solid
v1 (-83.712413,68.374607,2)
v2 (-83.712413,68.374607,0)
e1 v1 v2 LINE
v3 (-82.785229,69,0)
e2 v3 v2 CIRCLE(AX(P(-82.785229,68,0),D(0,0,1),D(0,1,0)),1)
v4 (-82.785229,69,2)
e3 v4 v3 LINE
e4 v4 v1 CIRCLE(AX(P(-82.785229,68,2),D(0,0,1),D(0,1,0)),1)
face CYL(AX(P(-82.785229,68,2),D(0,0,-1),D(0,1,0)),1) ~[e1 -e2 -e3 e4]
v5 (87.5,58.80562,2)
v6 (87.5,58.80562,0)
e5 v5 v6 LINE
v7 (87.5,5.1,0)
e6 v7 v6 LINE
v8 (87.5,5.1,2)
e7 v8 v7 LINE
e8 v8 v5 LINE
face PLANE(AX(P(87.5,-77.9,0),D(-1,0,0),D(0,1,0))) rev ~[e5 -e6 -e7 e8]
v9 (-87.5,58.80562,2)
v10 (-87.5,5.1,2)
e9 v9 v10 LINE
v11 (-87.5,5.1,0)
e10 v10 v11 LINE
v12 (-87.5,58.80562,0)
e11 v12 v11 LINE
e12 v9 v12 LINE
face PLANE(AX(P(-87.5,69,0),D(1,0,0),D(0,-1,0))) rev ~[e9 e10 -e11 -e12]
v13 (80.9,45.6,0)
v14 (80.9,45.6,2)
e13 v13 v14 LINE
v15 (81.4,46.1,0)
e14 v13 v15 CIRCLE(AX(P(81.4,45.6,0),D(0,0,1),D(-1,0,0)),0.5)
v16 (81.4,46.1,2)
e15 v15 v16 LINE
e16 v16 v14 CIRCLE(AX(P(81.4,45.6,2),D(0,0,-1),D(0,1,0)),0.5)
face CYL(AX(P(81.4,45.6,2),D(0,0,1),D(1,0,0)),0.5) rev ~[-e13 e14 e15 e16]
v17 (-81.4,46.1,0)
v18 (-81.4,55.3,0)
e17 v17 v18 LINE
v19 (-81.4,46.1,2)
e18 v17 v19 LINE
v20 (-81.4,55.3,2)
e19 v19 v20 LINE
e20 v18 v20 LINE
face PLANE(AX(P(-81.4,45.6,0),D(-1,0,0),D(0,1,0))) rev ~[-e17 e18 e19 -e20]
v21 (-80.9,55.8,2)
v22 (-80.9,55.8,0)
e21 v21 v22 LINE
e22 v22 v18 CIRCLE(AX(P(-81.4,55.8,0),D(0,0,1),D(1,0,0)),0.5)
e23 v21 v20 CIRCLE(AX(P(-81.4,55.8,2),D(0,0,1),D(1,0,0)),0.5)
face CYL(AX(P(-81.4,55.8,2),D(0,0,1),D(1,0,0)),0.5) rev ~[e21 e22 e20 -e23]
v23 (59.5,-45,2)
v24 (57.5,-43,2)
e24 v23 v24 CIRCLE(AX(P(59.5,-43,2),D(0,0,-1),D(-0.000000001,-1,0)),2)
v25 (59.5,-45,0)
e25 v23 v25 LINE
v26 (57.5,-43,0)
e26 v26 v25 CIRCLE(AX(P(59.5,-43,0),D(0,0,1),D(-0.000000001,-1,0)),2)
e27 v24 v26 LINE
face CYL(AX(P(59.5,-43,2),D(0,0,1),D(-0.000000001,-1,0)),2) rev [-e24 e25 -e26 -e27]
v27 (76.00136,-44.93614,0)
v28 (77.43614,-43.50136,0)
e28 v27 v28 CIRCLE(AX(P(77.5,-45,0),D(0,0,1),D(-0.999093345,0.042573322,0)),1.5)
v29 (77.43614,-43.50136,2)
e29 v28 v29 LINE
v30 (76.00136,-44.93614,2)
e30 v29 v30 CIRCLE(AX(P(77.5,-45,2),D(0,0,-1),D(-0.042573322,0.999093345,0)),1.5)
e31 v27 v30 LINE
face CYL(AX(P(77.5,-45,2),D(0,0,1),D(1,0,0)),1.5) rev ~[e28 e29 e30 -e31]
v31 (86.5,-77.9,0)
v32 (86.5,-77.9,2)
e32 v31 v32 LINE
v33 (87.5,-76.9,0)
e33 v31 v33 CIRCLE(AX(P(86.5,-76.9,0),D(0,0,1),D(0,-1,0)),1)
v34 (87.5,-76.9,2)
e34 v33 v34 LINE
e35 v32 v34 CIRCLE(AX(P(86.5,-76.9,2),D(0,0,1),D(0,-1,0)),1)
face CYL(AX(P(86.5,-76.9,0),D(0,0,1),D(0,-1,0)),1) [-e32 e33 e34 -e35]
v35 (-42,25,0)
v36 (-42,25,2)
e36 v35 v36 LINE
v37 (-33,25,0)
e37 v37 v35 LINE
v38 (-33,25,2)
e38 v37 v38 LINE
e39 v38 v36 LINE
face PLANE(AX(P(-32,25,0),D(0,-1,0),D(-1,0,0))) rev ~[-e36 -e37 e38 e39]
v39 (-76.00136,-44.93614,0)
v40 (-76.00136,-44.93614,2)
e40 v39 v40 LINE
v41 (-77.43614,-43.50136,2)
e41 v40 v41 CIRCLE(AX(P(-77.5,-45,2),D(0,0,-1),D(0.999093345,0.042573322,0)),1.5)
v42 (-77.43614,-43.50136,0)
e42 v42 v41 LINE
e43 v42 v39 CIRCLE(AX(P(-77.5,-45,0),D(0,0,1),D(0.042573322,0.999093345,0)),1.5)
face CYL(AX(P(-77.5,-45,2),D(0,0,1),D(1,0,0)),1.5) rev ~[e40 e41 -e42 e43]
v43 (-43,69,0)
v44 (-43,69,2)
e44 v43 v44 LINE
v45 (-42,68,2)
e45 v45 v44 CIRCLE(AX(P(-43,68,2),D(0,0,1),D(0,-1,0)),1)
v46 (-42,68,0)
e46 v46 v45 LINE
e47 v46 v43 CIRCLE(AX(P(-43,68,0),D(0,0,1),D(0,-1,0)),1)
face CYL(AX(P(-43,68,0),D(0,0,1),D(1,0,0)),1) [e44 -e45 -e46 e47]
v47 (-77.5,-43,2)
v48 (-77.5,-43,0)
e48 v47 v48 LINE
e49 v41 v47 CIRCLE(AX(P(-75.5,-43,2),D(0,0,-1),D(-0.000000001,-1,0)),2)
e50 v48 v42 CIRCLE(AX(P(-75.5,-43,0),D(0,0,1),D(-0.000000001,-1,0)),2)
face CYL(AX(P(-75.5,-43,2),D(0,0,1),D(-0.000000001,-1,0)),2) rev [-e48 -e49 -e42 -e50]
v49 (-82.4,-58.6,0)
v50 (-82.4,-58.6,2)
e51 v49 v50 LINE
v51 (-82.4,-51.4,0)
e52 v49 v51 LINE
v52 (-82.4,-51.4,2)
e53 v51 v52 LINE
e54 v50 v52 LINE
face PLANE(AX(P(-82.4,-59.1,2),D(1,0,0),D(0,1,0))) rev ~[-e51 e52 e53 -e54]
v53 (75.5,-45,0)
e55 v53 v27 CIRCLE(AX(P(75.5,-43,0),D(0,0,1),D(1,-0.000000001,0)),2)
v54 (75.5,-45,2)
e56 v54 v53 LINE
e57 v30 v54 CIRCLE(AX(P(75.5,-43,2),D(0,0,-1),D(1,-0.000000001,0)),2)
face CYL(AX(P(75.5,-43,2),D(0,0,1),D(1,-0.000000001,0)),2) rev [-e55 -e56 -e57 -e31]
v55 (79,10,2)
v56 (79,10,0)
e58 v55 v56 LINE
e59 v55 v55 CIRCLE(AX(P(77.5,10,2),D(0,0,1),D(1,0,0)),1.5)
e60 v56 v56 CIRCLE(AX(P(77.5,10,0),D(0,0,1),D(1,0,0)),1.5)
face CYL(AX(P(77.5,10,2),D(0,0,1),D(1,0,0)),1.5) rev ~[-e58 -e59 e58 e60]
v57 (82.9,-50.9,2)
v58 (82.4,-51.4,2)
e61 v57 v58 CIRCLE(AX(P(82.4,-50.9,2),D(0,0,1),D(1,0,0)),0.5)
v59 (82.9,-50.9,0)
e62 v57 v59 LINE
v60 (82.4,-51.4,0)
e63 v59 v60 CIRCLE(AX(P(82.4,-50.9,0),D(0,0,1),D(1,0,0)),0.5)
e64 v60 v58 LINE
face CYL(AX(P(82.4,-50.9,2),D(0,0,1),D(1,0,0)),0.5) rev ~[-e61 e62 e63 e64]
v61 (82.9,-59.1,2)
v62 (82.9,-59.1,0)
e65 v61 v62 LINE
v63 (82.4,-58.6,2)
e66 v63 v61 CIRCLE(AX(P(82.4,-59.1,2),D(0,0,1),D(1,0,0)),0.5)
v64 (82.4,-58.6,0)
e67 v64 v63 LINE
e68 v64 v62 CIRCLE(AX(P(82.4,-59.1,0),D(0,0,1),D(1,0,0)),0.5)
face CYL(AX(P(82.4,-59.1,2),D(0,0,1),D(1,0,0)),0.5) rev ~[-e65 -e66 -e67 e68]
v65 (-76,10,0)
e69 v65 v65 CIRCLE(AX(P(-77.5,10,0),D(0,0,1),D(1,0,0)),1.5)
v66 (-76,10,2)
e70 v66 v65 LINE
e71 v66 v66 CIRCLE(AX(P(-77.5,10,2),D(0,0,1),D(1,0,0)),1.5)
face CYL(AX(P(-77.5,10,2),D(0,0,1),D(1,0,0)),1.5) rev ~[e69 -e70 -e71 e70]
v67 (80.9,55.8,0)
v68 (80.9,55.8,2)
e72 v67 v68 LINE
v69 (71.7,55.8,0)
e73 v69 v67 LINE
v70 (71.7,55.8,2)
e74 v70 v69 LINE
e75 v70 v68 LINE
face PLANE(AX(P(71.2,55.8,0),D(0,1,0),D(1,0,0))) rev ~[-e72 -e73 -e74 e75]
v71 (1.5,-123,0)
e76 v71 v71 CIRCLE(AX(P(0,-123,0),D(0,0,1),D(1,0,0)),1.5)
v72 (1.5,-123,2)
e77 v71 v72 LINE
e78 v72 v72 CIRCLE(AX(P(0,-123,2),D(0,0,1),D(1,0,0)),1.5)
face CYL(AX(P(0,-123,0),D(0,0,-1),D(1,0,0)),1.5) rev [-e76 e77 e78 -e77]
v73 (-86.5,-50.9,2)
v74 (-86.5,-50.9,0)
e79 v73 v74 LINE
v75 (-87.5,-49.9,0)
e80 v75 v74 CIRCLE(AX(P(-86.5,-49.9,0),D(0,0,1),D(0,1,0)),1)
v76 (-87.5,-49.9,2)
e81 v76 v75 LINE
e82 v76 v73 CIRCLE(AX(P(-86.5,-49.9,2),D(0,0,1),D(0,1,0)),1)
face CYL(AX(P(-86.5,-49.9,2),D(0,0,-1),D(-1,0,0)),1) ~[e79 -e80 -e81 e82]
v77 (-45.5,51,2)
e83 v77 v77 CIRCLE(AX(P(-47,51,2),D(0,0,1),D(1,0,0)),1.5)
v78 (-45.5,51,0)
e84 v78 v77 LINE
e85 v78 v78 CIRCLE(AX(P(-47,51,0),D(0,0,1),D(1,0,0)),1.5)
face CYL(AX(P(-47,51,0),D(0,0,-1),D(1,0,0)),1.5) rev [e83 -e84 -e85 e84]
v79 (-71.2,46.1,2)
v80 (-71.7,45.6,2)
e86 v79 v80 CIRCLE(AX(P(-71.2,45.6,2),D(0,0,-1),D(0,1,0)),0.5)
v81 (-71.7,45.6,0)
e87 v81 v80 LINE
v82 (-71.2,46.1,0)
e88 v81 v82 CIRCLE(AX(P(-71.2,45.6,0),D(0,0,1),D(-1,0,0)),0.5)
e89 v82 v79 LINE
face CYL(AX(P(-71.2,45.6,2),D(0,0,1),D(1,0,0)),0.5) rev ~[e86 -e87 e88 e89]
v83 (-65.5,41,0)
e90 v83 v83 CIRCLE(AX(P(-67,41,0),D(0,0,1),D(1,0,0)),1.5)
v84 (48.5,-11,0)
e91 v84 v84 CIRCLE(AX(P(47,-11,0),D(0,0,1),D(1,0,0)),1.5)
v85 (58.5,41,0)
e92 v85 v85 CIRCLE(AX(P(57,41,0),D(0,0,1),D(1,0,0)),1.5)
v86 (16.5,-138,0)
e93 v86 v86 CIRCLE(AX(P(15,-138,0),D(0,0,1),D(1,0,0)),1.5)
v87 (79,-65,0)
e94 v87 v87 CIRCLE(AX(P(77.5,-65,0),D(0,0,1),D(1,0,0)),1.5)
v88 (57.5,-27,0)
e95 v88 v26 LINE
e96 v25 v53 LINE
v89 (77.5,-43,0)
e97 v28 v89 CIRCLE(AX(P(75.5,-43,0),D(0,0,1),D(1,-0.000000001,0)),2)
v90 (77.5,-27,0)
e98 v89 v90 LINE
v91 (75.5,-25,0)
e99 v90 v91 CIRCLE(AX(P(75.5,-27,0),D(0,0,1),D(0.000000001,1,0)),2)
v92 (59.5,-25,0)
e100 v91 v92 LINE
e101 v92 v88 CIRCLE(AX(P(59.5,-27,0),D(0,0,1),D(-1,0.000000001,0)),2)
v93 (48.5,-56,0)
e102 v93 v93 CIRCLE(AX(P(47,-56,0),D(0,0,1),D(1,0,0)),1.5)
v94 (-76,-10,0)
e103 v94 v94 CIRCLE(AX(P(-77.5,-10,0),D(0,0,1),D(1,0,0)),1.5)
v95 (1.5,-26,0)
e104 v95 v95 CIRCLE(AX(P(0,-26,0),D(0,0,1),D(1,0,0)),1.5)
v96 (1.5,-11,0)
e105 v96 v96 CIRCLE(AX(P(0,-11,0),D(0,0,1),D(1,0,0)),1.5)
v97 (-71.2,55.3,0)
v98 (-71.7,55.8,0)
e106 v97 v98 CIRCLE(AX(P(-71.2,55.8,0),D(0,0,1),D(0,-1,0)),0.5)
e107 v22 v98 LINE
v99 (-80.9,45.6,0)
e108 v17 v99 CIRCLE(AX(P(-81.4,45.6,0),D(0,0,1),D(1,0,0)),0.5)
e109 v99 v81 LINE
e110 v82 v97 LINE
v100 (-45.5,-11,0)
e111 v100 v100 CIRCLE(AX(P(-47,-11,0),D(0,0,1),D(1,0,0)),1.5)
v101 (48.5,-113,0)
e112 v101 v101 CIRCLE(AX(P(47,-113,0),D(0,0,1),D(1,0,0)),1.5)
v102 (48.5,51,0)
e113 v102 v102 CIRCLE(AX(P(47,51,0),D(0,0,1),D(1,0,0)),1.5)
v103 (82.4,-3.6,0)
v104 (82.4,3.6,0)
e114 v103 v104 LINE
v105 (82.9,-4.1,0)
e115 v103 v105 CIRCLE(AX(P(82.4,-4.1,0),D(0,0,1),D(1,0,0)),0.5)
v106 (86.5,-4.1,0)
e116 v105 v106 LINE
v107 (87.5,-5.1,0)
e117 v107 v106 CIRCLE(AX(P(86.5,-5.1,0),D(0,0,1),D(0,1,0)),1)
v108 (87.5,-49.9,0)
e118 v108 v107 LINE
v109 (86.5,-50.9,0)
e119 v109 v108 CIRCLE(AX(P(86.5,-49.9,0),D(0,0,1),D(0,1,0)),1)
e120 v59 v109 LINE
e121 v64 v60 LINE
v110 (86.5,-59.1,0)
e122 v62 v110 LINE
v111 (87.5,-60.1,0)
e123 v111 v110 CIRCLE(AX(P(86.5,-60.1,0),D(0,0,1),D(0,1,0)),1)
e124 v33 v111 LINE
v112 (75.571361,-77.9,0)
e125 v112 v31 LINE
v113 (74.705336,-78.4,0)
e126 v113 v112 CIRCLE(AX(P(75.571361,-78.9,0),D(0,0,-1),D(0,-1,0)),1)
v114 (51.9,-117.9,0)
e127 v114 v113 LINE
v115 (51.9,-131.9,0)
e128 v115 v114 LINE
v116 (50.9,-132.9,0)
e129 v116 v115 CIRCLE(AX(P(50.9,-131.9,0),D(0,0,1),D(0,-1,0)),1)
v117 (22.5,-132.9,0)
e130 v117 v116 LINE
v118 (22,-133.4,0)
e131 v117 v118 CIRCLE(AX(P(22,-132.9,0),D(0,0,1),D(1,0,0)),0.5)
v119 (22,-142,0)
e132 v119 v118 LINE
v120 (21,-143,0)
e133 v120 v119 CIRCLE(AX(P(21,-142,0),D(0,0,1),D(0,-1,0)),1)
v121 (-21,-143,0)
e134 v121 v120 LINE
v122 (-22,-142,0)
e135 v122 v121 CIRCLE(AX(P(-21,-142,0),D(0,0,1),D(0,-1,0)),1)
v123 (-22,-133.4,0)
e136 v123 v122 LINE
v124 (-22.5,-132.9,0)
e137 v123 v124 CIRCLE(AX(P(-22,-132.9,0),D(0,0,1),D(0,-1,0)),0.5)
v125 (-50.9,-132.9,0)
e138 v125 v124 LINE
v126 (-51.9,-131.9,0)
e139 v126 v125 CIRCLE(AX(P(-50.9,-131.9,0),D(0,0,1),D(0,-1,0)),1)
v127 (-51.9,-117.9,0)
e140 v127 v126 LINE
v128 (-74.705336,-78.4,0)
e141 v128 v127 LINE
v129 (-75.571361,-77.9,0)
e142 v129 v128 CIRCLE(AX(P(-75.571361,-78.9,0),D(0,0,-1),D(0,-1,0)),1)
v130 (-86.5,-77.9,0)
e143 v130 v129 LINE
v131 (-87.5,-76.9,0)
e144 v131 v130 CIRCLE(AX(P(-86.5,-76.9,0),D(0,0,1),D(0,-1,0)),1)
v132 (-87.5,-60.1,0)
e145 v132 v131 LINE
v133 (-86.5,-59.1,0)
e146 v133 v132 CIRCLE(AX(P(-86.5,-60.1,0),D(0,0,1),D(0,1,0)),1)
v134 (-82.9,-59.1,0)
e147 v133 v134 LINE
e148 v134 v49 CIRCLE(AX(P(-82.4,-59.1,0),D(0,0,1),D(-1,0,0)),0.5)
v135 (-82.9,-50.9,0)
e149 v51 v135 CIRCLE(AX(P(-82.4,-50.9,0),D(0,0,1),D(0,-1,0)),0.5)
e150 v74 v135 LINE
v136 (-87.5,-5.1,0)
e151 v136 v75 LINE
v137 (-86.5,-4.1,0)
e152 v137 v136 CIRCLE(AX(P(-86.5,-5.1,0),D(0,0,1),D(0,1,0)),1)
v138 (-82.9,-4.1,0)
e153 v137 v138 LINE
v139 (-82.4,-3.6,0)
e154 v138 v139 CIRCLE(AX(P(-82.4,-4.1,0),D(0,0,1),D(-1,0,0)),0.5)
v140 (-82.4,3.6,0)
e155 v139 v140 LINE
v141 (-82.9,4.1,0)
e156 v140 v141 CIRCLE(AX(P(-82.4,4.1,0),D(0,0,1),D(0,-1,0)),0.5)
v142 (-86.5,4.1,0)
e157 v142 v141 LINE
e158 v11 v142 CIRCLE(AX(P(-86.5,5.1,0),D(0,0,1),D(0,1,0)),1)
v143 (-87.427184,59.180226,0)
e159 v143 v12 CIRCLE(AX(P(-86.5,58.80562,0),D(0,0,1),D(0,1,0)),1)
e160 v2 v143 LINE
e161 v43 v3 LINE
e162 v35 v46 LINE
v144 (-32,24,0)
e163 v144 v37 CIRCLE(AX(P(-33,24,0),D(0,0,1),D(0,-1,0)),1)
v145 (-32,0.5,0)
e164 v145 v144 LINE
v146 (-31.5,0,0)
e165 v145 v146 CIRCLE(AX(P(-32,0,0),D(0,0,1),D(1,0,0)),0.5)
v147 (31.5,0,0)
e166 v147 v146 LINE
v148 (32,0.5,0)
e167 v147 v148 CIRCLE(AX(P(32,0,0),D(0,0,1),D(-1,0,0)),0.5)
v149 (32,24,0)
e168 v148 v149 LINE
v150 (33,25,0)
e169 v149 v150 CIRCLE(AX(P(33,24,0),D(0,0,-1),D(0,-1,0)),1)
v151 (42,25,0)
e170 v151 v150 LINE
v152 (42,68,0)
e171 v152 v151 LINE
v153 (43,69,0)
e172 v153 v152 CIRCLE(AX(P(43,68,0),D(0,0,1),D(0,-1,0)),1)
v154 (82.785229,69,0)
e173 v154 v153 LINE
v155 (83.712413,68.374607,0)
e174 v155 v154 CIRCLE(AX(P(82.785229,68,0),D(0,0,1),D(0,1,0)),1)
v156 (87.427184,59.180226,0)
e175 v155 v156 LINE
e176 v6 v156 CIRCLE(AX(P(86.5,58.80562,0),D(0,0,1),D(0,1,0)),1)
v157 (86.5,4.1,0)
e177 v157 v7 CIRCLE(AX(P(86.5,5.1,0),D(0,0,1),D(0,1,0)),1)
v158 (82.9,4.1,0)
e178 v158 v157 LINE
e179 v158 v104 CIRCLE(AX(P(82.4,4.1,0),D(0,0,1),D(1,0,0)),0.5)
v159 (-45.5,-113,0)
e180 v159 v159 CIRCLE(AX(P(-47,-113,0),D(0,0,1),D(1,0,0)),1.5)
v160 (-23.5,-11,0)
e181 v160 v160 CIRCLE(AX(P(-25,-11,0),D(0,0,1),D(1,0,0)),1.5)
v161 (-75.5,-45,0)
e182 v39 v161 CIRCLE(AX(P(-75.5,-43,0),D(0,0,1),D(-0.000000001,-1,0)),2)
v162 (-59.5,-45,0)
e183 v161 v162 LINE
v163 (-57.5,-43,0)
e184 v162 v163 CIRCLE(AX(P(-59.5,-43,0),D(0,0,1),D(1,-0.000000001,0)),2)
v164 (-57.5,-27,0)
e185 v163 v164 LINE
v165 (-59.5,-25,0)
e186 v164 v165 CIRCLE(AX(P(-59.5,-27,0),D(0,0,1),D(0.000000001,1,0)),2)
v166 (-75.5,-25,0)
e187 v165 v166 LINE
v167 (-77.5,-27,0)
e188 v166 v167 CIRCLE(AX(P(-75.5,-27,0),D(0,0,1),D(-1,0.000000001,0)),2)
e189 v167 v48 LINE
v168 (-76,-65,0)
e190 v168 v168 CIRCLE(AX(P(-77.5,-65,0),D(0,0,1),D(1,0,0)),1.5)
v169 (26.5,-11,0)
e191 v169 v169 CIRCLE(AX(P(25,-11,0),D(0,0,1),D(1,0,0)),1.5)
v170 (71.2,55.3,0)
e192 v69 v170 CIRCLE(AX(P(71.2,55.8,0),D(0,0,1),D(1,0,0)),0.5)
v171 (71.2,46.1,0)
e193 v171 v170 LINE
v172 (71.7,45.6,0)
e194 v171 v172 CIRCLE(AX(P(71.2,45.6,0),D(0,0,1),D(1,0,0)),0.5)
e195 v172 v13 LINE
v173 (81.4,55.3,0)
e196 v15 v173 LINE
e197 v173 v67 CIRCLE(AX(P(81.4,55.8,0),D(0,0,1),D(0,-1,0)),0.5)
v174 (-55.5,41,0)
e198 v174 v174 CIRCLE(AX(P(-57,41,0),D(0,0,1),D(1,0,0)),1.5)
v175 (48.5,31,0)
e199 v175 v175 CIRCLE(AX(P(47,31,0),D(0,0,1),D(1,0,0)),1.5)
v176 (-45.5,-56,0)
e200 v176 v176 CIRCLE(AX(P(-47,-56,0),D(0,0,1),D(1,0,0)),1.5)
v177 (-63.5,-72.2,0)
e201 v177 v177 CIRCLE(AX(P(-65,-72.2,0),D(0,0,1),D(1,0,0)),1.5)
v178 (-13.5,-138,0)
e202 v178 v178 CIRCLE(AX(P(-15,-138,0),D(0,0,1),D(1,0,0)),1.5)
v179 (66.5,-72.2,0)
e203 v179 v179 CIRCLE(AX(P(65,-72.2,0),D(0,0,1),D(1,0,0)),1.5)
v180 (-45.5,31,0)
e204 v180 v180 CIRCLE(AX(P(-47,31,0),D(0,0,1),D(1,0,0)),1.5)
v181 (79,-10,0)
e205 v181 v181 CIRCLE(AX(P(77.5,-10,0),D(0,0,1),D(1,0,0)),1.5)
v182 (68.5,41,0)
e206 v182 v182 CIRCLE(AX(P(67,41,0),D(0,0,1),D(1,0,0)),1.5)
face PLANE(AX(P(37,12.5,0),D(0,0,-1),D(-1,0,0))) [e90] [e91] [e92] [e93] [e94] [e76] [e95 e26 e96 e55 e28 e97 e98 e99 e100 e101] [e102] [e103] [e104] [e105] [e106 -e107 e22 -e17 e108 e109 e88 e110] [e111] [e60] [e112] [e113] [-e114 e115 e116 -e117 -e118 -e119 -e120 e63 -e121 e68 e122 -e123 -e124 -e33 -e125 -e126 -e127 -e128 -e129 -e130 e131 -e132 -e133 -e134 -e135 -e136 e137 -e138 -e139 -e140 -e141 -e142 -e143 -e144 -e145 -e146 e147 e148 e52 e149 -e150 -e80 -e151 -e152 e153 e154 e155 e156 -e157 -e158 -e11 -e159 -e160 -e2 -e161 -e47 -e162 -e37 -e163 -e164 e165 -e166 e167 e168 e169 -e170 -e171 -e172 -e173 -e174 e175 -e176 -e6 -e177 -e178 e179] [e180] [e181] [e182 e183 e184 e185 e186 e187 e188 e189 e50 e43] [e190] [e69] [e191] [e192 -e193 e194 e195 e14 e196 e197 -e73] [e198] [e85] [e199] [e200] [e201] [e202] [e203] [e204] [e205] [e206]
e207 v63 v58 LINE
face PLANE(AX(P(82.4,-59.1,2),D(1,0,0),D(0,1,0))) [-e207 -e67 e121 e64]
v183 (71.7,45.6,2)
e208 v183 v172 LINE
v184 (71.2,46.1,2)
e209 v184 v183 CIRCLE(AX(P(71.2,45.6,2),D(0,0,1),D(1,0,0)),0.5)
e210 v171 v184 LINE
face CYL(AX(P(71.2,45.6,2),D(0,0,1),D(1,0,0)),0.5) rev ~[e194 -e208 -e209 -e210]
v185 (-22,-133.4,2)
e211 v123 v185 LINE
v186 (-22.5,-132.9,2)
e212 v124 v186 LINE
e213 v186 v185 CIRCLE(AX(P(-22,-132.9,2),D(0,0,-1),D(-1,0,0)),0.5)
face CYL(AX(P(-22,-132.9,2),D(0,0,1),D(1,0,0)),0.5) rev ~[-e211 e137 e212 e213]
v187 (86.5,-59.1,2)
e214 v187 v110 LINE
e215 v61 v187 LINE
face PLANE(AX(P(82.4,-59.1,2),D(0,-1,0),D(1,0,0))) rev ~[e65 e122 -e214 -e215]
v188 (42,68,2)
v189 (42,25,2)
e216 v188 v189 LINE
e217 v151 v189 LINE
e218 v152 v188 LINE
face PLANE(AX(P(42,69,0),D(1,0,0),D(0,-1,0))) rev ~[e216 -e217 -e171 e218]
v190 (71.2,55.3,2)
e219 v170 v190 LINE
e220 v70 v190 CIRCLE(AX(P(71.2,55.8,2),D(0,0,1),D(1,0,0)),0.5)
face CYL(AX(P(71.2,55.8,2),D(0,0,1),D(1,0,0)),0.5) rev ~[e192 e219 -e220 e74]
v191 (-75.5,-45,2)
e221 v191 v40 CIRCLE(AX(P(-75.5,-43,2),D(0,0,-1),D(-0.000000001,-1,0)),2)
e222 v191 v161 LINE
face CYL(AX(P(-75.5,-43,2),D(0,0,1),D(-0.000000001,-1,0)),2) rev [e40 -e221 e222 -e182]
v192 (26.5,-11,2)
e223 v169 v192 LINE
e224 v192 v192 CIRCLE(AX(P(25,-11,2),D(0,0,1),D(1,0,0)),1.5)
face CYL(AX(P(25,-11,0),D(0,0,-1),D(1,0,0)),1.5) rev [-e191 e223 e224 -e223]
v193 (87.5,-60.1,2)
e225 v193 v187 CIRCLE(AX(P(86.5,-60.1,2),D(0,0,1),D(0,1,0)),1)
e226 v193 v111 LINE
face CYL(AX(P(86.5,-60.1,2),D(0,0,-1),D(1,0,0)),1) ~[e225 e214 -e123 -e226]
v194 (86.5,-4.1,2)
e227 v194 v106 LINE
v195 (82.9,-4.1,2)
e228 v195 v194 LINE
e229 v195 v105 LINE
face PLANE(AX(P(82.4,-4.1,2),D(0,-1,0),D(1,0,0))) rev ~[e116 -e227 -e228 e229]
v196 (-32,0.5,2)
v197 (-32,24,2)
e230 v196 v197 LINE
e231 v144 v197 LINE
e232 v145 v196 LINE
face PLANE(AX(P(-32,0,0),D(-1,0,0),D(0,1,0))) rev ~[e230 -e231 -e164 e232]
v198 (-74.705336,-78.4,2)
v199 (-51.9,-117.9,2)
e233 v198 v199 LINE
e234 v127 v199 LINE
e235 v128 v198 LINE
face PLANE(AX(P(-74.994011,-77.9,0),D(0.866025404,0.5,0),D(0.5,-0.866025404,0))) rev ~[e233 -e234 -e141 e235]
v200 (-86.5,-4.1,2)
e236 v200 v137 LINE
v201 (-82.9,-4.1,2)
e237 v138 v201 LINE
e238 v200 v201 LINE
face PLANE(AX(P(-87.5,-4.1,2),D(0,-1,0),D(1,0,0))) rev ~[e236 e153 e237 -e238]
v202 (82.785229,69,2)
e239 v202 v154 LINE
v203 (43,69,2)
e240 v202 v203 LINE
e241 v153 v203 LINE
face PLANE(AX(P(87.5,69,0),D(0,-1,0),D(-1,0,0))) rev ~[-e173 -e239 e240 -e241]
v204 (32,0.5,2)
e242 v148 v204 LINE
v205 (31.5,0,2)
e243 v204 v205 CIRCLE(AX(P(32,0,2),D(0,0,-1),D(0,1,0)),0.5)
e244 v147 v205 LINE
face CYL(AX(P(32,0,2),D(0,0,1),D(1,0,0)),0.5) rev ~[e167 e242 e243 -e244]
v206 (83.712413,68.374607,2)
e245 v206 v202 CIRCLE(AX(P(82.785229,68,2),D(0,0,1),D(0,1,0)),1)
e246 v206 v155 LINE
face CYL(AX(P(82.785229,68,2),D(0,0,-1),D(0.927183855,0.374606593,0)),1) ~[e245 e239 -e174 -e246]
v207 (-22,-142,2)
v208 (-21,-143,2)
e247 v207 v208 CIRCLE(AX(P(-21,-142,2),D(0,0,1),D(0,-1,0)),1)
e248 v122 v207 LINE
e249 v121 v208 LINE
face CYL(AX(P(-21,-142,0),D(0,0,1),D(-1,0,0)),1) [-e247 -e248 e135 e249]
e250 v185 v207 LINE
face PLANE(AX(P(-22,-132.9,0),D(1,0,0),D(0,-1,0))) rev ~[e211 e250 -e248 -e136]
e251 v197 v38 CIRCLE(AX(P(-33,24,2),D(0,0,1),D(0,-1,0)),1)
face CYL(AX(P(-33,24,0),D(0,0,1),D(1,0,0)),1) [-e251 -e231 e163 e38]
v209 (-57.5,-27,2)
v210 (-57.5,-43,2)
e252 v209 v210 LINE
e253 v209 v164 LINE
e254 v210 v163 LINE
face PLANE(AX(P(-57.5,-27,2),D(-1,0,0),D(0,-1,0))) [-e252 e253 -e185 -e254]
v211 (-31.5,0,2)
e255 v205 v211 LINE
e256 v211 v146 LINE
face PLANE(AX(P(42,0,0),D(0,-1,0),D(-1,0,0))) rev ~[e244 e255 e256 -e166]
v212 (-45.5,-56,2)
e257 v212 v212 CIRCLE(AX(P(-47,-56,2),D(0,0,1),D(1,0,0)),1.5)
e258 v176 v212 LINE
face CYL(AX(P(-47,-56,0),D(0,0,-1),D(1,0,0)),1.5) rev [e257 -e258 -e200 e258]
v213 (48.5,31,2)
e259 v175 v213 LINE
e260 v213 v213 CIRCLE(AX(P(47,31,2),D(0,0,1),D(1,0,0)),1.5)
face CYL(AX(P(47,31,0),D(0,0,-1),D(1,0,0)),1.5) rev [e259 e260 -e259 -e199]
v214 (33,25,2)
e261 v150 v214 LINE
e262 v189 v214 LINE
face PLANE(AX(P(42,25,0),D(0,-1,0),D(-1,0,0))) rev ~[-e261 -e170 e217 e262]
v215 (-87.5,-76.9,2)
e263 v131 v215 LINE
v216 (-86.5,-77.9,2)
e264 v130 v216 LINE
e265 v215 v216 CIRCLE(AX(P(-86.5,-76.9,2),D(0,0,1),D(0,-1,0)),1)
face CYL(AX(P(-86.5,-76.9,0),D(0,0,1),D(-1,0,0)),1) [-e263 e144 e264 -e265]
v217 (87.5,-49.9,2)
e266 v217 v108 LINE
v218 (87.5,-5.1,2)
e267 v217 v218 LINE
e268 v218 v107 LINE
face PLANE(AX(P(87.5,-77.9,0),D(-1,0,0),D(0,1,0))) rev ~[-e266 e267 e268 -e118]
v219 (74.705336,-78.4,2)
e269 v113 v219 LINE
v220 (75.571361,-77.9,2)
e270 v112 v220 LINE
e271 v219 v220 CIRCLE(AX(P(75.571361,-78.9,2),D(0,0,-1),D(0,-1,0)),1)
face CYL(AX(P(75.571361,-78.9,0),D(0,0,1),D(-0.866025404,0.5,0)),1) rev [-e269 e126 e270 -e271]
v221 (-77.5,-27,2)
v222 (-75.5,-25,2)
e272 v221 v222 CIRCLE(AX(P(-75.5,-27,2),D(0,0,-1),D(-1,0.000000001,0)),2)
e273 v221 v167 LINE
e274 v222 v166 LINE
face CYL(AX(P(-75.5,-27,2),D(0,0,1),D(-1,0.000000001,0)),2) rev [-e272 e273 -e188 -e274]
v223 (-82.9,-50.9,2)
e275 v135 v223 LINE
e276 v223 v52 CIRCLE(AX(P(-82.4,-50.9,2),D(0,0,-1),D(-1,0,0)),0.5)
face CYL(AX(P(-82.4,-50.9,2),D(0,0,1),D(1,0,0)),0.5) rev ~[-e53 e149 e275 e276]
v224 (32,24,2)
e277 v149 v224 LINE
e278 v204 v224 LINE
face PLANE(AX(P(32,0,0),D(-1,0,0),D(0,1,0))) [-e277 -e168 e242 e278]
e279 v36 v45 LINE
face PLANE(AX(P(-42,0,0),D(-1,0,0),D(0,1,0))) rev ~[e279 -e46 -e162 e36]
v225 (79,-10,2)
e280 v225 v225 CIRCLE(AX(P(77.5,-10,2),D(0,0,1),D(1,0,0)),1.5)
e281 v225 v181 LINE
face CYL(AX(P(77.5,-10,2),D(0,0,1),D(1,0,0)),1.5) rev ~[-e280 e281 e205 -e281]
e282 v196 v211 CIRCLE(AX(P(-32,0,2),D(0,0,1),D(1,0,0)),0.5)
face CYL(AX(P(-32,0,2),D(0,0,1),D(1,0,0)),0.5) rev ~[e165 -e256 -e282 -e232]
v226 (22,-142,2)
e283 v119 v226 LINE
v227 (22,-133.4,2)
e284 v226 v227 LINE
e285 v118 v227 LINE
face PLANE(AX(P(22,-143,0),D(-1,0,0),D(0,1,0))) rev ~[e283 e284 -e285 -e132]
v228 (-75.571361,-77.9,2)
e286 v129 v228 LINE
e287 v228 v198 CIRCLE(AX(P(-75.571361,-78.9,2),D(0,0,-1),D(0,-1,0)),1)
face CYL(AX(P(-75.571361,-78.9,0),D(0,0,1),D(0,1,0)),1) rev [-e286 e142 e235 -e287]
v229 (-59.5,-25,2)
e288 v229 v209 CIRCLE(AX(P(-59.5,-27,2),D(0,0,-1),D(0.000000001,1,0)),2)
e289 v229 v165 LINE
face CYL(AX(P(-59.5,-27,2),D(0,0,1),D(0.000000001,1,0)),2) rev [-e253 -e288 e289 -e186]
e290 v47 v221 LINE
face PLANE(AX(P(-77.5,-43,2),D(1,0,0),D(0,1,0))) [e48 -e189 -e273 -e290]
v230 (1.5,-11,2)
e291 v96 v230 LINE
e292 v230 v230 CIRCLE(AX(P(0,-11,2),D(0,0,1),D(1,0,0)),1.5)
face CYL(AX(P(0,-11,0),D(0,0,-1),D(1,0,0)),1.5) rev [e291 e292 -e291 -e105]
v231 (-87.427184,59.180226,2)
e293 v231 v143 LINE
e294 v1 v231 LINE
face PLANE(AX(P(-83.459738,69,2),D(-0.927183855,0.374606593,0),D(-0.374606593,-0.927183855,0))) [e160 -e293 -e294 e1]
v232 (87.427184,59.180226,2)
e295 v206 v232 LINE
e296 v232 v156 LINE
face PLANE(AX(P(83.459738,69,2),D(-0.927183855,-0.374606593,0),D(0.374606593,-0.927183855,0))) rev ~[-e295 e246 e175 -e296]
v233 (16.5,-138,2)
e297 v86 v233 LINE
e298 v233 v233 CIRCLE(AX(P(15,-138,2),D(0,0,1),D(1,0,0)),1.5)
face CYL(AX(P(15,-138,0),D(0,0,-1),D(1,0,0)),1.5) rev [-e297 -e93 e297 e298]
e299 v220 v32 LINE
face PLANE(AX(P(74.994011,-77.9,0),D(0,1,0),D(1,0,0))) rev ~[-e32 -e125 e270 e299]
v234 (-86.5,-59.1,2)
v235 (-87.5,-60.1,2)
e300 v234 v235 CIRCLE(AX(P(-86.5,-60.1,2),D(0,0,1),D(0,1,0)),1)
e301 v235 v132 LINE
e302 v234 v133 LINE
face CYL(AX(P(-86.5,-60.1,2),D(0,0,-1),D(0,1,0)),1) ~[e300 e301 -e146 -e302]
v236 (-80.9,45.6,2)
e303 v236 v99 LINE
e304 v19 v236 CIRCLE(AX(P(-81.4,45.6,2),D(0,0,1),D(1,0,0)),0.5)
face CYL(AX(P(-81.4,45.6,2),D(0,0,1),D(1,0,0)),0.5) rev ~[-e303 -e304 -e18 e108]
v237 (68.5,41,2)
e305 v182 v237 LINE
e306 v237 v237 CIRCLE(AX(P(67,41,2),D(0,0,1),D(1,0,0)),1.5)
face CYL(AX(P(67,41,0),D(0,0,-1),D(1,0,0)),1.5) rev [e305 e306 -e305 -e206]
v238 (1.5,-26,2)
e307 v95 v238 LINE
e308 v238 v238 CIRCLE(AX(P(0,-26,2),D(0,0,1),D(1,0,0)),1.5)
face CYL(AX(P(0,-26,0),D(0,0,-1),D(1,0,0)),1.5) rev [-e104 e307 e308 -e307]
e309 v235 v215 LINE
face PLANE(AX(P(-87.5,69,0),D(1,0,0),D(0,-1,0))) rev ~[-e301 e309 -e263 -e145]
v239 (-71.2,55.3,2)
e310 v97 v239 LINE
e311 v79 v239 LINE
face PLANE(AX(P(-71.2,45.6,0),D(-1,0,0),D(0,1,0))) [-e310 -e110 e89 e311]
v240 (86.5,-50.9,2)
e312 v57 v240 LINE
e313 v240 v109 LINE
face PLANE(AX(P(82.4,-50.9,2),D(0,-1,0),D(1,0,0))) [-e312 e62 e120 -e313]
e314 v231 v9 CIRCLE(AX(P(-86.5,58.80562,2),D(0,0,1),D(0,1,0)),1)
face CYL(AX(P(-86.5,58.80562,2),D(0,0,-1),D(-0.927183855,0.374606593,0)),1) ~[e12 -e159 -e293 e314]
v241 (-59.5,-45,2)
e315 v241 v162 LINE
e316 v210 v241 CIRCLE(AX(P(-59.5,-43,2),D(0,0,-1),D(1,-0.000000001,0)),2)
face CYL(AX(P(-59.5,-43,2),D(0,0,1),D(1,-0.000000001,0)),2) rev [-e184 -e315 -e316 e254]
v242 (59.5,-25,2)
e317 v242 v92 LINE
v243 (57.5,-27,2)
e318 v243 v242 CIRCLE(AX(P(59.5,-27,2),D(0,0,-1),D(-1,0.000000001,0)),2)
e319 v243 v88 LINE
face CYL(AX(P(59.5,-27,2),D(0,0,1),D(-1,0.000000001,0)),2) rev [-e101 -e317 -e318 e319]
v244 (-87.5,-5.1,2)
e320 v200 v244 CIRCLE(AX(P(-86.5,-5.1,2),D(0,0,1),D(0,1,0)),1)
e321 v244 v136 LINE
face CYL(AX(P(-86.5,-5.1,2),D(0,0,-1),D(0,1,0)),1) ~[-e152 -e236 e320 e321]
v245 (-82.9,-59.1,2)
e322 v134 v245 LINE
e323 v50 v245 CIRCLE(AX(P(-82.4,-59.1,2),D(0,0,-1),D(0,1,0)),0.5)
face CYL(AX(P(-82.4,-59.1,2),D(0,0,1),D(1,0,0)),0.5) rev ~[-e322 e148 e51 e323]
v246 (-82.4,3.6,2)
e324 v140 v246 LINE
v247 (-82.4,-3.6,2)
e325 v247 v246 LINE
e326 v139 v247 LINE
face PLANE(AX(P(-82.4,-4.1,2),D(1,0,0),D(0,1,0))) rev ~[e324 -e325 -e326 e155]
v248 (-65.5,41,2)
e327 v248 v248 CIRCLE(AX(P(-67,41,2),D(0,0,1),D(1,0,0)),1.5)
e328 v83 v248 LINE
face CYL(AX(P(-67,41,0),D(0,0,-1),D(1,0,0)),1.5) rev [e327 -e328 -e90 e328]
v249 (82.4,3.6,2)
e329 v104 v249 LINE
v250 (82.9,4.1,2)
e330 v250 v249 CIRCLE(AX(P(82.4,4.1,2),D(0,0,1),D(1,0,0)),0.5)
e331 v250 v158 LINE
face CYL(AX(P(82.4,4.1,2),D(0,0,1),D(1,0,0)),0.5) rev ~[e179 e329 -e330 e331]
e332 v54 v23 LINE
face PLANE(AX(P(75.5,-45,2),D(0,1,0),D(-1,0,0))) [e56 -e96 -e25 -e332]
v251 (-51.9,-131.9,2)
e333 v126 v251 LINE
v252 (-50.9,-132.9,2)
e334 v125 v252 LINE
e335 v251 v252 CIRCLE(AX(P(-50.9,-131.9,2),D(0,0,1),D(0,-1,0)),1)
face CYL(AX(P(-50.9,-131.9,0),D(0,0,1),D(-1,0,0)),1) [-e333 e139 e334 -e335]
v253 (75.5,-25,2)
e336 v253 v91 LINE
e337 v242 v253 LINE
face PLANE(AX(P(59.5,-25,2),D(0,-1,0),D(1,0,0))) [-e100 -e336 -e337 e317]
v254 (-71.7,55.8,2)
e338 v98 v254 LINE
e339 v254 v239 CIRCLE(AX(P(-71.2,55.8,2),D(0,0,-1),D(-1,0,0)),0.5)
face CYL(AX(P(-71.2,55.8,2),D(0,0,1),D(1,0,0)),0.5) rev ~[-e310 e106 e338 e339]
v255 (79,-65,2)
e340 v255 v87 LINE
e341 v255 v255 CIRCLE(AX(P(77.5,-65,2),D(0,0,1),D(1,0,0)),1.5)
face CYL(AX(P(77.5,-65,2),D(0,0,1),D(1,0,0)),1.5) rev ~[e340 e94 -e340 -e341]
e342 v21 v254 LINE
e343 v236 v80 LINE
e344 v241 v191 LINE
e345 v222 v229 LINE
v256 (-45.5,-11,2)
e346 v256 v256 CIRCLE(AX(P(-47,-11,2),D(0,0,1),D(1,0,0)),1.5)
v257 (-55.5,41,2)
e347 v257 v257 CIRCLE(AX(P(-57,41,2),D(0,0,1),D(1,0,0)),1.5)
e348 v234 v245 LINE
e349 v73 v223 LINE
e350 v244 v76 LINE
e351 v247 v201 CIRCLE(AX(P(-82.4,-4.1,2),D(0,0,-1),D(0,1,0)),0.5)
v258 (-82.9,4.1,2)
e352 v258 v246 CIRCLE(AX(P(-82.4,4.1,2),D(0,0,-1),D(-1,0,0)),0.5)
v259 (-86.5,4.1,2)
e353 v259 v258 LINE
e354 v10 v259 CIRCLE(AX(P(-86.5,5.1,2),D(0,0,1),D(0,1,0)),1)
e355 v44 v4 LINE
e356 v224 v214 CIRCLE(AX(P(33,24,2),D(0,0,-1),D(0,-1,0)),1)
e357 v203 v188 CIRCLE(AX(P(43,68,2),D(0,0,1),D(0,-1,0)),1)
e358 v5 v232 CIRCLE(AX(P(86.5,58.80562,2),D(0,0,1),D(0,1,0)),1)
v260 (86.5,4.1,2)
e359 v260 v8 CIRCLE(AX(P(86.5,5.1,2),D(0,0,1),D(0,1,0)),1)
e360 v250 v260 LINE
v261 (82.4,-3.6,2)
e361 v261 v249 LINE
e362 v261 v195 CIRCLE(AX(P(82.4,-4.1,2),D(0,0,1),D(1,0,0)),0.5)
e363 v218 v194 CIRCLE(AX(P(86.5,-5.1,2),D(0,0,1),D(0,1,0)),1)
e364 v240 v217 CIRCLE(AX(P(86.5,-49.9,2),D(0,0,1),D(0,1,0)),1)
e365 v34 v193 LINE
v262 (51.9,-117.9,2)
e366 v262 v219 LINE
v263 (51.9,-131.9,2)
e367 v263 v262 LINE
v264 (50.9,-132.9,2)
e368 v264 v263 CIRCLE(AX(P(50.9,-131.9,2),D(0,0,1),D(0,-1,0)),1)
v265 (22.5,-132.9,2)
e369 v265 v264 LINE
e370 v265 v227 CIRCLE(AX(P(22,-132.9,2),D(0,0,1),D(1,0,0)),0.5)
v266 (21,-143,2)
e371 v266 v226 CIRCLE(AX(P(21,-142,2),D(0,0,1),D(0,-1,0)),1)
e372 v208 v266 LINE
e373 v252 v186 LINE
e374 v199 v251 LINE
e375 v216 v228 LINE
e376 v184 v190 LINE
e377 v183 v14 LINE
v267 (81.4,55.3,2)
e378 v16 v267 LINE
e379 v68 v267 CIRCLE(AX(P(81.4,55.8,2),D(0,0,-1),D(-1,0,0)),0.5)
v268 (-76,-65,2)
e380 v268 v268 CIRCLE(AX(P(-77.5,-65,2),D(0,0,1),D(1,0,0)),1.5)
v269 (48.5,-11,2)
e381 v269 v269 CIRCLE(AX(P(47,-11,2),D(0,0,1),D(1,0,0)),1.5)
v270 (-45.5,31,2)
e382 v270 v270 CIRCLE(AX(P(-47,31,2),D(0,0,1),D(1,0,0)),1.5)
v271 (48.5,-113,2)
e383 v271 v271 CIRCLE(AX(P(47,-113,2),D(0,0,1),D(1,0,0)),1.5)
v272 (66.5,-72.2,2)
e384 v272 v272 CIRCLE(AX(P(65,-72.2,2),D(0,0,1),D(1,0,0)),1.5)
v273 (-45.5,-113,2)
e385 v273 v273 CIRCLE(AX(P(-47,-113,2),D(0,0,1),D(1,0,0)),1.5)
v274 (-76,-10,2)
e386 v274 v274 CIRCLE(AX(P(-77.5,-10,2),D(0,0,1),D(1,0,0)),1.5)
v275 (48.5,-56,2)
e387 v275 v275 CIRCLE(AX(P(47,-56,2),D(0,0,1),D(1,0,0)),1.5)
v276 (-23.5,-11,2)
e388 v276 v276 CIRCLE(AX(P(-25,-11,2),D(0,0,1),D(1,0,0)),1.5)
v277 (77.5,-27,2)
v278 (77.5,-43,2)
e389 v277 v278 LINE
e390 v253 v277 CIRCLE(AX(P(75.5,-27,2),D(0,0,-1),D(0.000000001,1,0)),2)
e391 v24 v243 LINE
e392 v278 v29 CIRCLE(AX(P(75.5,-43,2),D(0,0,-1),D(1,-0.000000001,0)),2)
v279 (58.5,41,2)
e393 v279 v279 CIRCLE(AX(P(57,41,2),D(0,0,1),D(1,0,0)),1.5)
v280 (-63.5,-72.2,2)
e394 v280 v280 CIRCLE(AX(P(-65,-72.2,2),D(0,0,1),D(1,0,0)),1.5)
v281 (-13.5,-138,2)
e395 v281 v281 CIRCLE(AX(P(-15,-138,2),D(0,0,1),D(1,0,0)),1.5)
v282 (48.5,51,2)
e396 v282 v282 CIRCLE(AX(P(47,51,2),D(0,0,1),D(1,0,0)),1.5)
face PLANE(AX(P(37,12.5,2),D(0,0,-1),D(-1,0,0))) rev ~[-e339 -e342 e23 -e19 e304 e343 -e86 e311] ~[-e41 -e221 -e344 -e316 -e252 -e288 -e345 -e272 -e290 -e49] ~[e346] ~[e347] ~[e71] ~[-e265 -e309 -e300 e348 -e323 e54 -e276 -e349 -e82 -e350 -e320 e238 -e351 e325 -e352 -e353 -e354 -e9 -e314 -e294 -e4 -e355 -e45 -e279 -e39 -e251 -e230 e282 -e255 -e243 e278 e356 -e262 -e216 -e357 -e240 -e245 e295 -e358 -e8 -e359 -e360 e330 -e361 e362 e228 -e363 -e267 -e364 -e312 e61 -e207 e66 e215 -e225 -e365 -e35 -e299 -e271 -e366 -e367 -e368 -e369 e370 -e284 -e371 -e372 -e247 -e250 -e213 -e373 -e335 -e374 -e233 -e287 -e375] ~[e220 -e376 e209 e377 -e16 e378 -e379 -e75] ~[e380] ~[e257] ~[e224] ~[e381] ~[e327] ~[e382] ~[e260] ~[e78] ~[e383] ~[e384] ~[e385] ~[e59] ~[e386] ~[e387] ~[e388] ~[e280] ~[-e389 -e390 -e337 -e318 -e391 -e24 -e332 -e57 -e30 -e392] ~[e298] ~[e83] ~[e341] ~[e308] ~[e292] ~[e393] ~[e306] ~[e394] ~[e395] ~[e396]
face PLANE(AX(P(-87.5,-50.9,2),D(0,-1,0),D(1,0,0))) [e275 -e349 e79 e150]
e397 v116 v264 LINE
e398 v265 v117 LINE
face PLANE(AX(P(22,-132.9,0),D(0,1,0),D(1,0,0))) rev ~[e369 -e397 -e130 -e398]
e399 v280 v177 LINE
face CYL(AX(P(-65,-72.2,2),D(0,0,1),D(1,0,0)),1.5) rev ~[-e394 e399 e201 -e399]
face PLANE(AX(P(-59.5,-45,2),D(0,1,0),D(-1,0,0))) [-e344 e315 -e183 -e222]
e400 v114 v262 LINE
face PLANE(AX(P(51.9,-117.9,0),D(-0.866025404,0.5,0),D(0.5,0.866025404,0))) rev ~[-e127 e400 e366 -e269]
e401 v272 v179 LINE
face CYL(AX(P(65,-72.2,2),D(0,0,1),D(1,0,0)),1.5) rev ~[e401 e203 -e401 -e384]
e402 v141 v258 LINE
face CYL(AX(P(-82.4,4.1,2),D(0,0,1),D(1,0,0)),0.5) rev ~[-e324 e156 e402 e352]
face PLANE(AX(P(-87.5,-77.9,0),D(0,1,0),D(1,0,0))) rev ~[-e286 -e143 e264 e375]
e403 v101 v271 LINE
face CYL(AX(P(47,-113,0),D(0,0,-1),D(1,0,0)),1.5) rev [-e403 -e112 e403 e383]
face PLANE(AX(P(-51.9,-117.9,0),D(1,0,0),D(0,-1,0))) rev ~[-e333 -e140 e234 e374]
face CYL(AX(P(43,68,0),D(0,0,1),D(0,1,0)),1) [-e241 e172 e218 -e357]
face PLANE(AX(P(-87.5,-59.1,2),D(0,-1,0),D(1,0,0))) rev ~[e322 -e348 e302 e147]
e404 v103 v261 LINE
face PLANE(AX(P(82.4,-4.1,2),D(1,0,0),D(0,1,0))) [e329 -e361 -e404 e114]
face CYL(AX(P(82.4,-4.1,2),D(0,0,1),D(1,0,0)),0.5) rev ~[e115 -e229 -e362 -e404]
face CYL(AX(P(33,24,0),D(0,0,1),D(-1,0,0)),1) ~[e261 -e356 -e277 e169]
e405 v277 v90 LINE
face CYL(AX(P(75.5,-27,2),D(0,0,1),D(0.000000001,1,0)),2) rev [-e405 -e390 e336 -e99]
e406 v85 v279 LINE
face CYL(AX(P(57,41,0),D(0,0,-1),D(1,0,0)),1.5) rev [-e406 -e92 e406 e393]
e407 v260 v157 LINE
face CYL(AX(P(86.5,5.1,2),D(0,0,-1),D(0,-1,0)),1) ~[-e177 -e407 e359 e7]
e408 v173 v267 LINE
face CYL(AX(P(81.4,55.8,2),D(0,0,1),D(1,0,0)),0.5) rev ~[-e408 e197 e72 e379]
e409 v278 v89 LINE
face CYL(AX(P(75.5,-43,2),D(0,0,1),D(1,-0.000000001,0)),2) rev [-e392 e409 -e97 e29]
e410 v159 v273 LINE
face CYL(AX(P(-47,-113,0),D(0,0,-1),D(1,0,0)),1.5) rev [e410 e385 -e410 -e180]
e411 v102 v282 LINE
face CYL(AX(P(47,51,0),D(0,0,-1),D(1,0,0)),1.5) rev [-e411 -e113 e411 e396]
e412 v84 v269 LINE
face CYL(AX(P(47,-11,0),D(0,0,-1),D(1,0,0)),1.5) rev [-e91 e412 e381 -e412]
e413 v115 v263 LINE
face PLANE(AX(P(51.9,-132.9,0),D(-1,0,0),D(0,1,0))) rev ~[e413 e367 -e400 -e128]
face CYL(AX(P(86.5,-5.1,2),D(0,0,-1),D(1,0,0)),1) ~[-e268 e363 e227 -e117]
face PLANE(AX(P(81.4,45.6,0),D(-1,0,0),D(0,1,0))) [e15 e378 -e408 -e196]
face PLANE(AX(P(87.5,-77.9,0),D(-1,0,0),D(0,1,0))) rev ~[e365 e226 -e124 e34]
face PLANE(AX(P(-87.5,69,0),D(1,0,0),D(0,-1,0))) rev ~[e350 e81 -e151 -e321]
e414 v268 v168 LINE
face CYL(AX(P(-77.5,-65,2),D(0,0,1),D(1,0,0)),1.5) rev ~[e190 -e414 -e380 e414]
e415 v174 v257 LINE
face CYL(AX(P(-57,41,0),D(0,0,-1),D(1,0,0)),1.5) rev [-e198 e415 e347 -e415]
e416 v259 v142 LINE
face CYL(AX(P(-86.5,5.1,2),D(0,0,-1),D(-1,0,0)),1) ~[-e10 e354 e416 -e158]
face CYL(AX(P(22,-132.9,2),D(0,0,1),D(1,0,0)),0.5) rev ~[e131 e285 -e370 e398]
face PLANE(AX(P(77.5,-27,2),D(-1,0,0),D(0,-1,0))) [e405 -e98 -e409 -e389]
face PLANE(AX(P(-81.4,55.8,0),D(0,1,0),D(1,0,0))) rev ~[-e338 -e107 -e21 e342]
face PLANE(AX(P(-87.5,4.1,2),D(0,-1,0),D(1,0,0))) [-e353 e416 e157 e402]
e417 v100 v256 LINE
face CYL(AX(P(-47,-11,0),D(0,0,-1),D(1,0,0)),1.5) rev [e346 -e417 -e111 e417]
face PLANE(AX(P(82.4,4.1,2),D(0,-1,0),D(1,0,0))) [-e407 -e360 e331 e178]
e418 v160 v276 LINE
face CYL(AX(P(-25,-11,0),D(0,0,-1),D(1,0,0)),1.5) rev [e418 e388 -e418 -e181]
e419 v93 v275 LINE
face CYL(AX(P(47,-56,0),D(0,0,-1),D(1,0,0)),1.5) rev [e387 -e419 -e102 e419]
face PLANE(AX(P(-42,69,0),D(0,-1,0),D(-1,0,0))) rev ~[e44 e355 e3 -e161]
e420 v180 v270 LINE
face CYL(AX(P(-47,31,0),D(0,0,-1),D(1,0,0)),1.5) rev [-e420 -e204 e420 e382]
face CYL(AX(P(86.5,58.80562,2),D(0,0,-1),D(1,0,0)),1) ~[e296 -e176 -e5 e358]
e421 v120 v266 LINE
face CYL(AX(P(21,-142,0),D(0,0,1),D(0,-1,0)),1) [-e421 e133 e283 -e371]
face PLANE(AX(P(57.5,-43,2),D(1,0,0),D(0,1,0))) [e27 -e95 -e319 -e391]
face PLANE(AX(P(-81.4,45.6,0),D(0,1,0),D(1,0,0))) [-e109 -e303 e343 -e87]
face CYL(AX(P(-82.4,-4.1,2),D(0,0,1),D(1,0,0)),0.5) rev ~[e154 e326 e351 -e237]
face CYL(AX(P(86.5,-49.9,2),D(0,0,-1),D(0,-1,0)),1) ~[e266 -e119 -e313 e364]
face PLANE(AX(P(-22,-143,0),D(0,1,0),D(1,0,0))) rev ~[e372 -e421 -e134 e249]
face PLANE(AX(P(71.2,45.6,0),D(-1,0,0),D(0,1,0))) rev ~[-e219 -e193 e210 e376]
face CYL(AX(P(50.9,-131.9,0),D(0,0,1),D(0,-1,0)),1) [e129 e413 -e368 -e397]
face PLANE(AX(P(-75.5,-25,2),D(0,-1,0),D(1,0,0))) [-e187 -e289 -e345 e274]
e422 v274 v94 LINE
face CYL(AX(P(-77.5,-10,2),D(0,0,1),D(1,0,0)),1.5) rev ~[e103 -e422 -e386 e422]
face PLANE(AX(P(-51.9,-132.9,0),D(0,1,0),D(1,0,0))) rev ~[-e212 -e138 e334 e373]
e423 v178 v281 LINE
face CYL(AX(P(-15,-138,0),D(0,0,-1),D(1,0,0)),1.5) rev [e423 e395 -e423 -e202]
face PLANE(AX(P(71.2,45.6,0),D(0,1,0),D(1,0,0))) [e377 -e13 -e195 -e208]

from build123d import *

# Parameters (mm, degrees)
SKETCH_1_R          = 1.5
SKETCH_1_W          = 10.2
SKETCH_1_H          = 10.2
EXTRUDE_3_DEPTH     = 2
SKETCH_3_R          = 1.5
SKETCH_3_W          = 5.1
SKETCH_3_H          = 8.2
CUT_EXTRUDE_2_DEPTH = 3
SKETCH_4_W          = 10
SKETCH_4_H          = 25
EXTRUDE_4_DEPTH     = 2
SKETCH_2_R          = 0.5
CUT_EXTRUDE_1_DEPTH = 3
FILLET_1_R          = 1
CUT_EXTRUDE_3_DEPTH = 10
SKETCH_6_R          = 1.5
CUT_EXTRUDE_4_DEPTH = 10


with BuildPart() as part:
    # 草图1 → 凸台-拉伸3 (new body)
    with BuildSketch(Plane.XY):
        Polygon((-87.5, 69), (-87.5, -77.9), (-74.994010768, -77.9), (-51.9, -117.9), (-51.9, -132.9), (-22, -132.9), (-22, -143), (22, -143), (22, -132.9), (51.9, -132.9), (51.9, -117.9), (74.994010768, -77.9), (87.5, -77.9), (87.5, 69), (42, 69), (42, 0), (-42, 0), (-42, 69), align=None)
        with Locations((-25, -11)):
            Circle(SKETCH_1_R, mode=Mode.SUBTRACT)
        with Locations((0, -26)):
            Circle(SKETCH_1_R, mode=Mode.SUBTRACT)
        with Locations((-47, -11)):
            Circle(SKETCH_1_R, mode=Mode.SUBTRACT)
        with Locations((-15, -138)):
            Circle(SKETCH_1_R, mode=Mode.SUBTRACT)
        with Locations((0, -123)):
            Circle(SKETCH_1_R, mode=Mode.SUBTRACT)
        with Locations((47, -11)):
            Circle(SKETCH_1_R, mode=Mode.SUBTRACT)
        with Locations((25, -11)):
            Circle(SKETCH_1_R, mode=Mode.SUBTRACT)
        with Locations((15, -138)):
            Circle(SKETCH_1_R, mode=Mode.SUBTRACT)
        with Locations((0, -11)):
            Circle(SKETCH_1_R, mode=Mode.SUBTRACT)
        with Locations((-47, 51)):
            Circle(SKETCH_1_R, mode=Mode.SUBTRACT)
        with Locations((47, 51)):
            Circle(SKETCH_1_R, mode=Mode.SUBTRACT)
        with Locations((-47, -113)):
            Circle(SKETCH_1_R, mode=Mode.SUBTRACT)
        with Locations((-47, -56)):
            Circle(SKETCH_1_R, mode=Mode.SUBTRACT)
        with Locations((47, -56)):
            Circle(SKETCH_1_R, mode=Mode.SUBTRACT)
        with Locations((47, -113)):
            Circle(SKETCH_1_R, mode=Mode.SUBTRACT)
        with Locations((-47, 31)):
            Circle(SKETCH_1_R, mode=Mode.SUBTRACT)
        with Locations((-67, 41)):
            Circle(SKETCH_1_R, mode=Mode.SUBTRACT)
        with Locations((-57, 41)):
            Circle(SKETCH_1_R, mode=Mode.SUBTRACT)
        with Locations((57, 41)):
            Circle(SKETCH_1_R, mode=Mode.SUBTRACT)
        with Locations((67, 41)):
            Circle(SKETCH_1_R, mode=Mode.SUBTRACT)
        with Locations((47, 31)):
            Circle(SKETCH_1_R, mode=Mode.SUBTRACT)
        with Locations((76.3, 50.7)):
            Rectangle(SKETCH_1_W, SKETCH_1_H, mode=Mode.SUBTRACT)
        with Locations((-76.3, 50.7)):
            Rectangle(SKETCH_1_W, SKETCH_1_H, mode=Mode.SUBTRACT)
    extrude(amount=EXTRUDE_3_DEPTH)

    # 草图3 → 切除-拉伸2 (cut, through all)
    with BuildSketch(Plane.XY.offset(2)):
        with Locations((77.5, 10)):
            Circle(SKETCH_3_R)
        with Locations((77.5, -10)):
            Circle(SKETCH_3_R)
        with Locations((77.5, -45)):
            Circle(SKETCH_3_R)
        with Locations((77.5, -65)):
            Circle(SKETCH_3_R)
        with Locations((-77.5, -45)):
            Circle(SKETCH_3_R)
        with Locations((-77.5, -65)):
            Circle(SKETCH_3_R)
        with Locations((-77.5, -10)):
            Circle(SKETCH_3_R)
        with Locations((-77.5, 10)):
            Circle(SKETCH_3_R)
        with Locations((84.95, 0)):
            Rectangle(SKETCH_3_W, SKETCH_3_H)
        with Locations((-84.95, 0)):
            Rectangle(SKETCH_3_W, SKETCH_3_H)
        with Locations((-84.95, -55)):
            Rectangle(SKETCH_3_W, SKETCH_3_H)
        with Locations((84.95, -55)):
            Rectangle(SKETCH_3_W, SKETCH_3_H)
        Polygon((83.459737742, 69), (87.5, 59), (87.5, 69), align=None)
        Polygon((-87.5, 59), (-87.5, 69), (-83.459737742, 69), align=None)
    extrude(amount=-CUT_EXTRUDE_2_DEPTH, mode=Mode.SUBTRACT)

    # 草图4 → 凸台-拉伸4 (add)
    with BuildSketch(Plane(origin=(0, 0, 0), x_dir=(-1, 0, 0), z_dir=(0, 0, -1))):
        with Locations((-37, 12.5)):
            Rectangle(SKETCH_4_W, SKETCH_4_H)
        with Locations((37, 12.5)):
            Rectangle(SKETCH_4_W, SKETCH_4_H)
    extrude(amount=-EXTRUDE_4_DEPTH)

    # 草图2 → 切除-拉伸1 (cut, through all)
    with BuildSketch(Plane.XY.offset(2)):
        with Locations((-81.4, 45.6)):
            Circle(SKETCH_2_R)
        with Locations((-81.4, 55.8)):
            Circle(SKETCH_2_R)
        with Locations((-71.2, 45.6)):
            Circle(SKETCH_2_R)
        with Locations((-71.2, 55.8)):
            Circle(SKETCH_2_R)
        with Locations((71.2, 55.8)):
            Circle(SKETCH_2_R)
        with Locations((71.2, 45.6)):
            Circle(SKETCH_2_R)
        with Locations((81.4, 55.8)):
            Circle(SKETCH_2_R)
        with Locations((81.4, 45.6)):
            Circle(SKETCH_2_R)
        with Locations((82.4, 4.1)):
            Circle(SKETCH_2_R)
        with Locations((82.4, -4.1)):
            Circle(SKETCH_2_R)
        with Locations((82.4, -50.9)):
            Circle(SKETCH_2_R)
        with Locations((82.4, -59.1)):
            Circle(SKETCH_2_R)
        with Locations((22, -132.9)):
            Circle(SKETCH_2_R)
        with Locations((-82.4, -59.1)):
            Circle(SKETCH_2_R)
        with Locations((-82.4, -50.9)):
            Circle(SKETCH_2_R)
        with Locations((-82.4, -4.1)):
            Circle(SKETCH_2_R)
        with Locations((-82.4, 4.1)):
            Circle(SKETCH_2_R)
        with Locations((-22, -132.9)):
            Circle(SKETCH_2_R)
        with Locations((32, 0)):
            Circle(SKETCH_2_R)
        with Locations((-32, 0)):
            Circle(SKETCH_2_R)
    extrude(amount=-CUT_EXTRUDE_1_DEPTH, mode=Mode.SUBTRACT)

    # 圆角1
    fillet_1_edges = [part.edges().sort_by_distance(p)[0] for p in [
        (87.5, -50.9, 1),
        (87.5, -59.1, 1),
        (-87.5, -59.1, 1),
        (-87.5, -50.9, 1),
        (-87.5, -4.1, 1),
        (-87.5, 4.1, 1),
        (83.459737742, 69, 1),
        (87.5, 59, 1),
        (-83.459737742, 69, 1),
        (-87.5, 59, 1),
        (87.5, 4.1, 1),
        (87.5, -4.1, 1),
        (32, 25, 1),
        (-32, 25, 1),
        (-87.5, -77.9, 1),
        (-42, 69, 1),
        (42, 69, 1),
        (87.5, -77.9, 1),
        (74.994010768, -77.9, 1),
        (51.9, -132.9, 1),
        (22, -143, 1),
        (-22, -143, 1),
        (-51.9, -132.9, 1),
        (-74.994010768, -77.9, 1),
    ]]
    fillet(fillet_1_edges, radius=FILLET_1_R)

    # 草图5 → 切除-拉伸3 (cut)
    with BuildSketch(Plane.XY.offset(2)):
        with BuildLine():
            Line((-75.5, -25), (-59.5, -25))
            ThreePointArc((-59.5, -25), (-58.085786438, -25.585786438), (-57.5, -27))
            Line((-57.5, -27), (-57.5, -43))
            ThreePointArc((-57.5, -43), (-58.085786438, -44.414213562), (-59.5, -45))
            Line((-59.5, -45), (-75.5, -45))
            ThreePointArc((-75.5, -45), (-76.914213562, -44.414213562), (-77.5, -43))
            Line((-77.5, -43), (-77.5, -27))
            ThreePointArc((-77.5, -27), (-76.914213562, -25.585786438), (-75.5, -25))
        make_face()
        with BuildLine():
            Line((75.5, -45), (59.5, -45))
            ThreePointArc((59.5, -45), (58.085786438, -44.414213562), (57.5, -43))
            Line((57.5, -43), (57.5, -27))
            ThreePointArc((57.5, -27), (58.085786438, -25.585786438), (59.5, -25))
            Line((59.5, -25), (75.5, -25))
            ThreePointArc((75.5, -25), (76.914213562, -25.585786438), (77.5, -27))
            Line((77.5, -27), (77.5, -43))
            ThreePointArc((77.5, -43), (76.914213562, -44.414213562), (75.5, -45))
        make_face()
    extrude(amount=-CUT_EXTRUDE_3_DEPTH, mode=Mode.SUBTRACT)

    # 草图6 → 切除-拉伸4 (cut)
    with BuildSketch(Plane.XY.offset(2)):
        with Locations((-65, -72.2)):
            Circle(SKETCH_6_R)
        with Locations((65, -72.2)):
            Circle(SKETCH_6_R)
    extrude(amount=-CUT_EXTRUDE_4_DEPTH, mode=Mode.SUBTRACT)


solid = part.part
